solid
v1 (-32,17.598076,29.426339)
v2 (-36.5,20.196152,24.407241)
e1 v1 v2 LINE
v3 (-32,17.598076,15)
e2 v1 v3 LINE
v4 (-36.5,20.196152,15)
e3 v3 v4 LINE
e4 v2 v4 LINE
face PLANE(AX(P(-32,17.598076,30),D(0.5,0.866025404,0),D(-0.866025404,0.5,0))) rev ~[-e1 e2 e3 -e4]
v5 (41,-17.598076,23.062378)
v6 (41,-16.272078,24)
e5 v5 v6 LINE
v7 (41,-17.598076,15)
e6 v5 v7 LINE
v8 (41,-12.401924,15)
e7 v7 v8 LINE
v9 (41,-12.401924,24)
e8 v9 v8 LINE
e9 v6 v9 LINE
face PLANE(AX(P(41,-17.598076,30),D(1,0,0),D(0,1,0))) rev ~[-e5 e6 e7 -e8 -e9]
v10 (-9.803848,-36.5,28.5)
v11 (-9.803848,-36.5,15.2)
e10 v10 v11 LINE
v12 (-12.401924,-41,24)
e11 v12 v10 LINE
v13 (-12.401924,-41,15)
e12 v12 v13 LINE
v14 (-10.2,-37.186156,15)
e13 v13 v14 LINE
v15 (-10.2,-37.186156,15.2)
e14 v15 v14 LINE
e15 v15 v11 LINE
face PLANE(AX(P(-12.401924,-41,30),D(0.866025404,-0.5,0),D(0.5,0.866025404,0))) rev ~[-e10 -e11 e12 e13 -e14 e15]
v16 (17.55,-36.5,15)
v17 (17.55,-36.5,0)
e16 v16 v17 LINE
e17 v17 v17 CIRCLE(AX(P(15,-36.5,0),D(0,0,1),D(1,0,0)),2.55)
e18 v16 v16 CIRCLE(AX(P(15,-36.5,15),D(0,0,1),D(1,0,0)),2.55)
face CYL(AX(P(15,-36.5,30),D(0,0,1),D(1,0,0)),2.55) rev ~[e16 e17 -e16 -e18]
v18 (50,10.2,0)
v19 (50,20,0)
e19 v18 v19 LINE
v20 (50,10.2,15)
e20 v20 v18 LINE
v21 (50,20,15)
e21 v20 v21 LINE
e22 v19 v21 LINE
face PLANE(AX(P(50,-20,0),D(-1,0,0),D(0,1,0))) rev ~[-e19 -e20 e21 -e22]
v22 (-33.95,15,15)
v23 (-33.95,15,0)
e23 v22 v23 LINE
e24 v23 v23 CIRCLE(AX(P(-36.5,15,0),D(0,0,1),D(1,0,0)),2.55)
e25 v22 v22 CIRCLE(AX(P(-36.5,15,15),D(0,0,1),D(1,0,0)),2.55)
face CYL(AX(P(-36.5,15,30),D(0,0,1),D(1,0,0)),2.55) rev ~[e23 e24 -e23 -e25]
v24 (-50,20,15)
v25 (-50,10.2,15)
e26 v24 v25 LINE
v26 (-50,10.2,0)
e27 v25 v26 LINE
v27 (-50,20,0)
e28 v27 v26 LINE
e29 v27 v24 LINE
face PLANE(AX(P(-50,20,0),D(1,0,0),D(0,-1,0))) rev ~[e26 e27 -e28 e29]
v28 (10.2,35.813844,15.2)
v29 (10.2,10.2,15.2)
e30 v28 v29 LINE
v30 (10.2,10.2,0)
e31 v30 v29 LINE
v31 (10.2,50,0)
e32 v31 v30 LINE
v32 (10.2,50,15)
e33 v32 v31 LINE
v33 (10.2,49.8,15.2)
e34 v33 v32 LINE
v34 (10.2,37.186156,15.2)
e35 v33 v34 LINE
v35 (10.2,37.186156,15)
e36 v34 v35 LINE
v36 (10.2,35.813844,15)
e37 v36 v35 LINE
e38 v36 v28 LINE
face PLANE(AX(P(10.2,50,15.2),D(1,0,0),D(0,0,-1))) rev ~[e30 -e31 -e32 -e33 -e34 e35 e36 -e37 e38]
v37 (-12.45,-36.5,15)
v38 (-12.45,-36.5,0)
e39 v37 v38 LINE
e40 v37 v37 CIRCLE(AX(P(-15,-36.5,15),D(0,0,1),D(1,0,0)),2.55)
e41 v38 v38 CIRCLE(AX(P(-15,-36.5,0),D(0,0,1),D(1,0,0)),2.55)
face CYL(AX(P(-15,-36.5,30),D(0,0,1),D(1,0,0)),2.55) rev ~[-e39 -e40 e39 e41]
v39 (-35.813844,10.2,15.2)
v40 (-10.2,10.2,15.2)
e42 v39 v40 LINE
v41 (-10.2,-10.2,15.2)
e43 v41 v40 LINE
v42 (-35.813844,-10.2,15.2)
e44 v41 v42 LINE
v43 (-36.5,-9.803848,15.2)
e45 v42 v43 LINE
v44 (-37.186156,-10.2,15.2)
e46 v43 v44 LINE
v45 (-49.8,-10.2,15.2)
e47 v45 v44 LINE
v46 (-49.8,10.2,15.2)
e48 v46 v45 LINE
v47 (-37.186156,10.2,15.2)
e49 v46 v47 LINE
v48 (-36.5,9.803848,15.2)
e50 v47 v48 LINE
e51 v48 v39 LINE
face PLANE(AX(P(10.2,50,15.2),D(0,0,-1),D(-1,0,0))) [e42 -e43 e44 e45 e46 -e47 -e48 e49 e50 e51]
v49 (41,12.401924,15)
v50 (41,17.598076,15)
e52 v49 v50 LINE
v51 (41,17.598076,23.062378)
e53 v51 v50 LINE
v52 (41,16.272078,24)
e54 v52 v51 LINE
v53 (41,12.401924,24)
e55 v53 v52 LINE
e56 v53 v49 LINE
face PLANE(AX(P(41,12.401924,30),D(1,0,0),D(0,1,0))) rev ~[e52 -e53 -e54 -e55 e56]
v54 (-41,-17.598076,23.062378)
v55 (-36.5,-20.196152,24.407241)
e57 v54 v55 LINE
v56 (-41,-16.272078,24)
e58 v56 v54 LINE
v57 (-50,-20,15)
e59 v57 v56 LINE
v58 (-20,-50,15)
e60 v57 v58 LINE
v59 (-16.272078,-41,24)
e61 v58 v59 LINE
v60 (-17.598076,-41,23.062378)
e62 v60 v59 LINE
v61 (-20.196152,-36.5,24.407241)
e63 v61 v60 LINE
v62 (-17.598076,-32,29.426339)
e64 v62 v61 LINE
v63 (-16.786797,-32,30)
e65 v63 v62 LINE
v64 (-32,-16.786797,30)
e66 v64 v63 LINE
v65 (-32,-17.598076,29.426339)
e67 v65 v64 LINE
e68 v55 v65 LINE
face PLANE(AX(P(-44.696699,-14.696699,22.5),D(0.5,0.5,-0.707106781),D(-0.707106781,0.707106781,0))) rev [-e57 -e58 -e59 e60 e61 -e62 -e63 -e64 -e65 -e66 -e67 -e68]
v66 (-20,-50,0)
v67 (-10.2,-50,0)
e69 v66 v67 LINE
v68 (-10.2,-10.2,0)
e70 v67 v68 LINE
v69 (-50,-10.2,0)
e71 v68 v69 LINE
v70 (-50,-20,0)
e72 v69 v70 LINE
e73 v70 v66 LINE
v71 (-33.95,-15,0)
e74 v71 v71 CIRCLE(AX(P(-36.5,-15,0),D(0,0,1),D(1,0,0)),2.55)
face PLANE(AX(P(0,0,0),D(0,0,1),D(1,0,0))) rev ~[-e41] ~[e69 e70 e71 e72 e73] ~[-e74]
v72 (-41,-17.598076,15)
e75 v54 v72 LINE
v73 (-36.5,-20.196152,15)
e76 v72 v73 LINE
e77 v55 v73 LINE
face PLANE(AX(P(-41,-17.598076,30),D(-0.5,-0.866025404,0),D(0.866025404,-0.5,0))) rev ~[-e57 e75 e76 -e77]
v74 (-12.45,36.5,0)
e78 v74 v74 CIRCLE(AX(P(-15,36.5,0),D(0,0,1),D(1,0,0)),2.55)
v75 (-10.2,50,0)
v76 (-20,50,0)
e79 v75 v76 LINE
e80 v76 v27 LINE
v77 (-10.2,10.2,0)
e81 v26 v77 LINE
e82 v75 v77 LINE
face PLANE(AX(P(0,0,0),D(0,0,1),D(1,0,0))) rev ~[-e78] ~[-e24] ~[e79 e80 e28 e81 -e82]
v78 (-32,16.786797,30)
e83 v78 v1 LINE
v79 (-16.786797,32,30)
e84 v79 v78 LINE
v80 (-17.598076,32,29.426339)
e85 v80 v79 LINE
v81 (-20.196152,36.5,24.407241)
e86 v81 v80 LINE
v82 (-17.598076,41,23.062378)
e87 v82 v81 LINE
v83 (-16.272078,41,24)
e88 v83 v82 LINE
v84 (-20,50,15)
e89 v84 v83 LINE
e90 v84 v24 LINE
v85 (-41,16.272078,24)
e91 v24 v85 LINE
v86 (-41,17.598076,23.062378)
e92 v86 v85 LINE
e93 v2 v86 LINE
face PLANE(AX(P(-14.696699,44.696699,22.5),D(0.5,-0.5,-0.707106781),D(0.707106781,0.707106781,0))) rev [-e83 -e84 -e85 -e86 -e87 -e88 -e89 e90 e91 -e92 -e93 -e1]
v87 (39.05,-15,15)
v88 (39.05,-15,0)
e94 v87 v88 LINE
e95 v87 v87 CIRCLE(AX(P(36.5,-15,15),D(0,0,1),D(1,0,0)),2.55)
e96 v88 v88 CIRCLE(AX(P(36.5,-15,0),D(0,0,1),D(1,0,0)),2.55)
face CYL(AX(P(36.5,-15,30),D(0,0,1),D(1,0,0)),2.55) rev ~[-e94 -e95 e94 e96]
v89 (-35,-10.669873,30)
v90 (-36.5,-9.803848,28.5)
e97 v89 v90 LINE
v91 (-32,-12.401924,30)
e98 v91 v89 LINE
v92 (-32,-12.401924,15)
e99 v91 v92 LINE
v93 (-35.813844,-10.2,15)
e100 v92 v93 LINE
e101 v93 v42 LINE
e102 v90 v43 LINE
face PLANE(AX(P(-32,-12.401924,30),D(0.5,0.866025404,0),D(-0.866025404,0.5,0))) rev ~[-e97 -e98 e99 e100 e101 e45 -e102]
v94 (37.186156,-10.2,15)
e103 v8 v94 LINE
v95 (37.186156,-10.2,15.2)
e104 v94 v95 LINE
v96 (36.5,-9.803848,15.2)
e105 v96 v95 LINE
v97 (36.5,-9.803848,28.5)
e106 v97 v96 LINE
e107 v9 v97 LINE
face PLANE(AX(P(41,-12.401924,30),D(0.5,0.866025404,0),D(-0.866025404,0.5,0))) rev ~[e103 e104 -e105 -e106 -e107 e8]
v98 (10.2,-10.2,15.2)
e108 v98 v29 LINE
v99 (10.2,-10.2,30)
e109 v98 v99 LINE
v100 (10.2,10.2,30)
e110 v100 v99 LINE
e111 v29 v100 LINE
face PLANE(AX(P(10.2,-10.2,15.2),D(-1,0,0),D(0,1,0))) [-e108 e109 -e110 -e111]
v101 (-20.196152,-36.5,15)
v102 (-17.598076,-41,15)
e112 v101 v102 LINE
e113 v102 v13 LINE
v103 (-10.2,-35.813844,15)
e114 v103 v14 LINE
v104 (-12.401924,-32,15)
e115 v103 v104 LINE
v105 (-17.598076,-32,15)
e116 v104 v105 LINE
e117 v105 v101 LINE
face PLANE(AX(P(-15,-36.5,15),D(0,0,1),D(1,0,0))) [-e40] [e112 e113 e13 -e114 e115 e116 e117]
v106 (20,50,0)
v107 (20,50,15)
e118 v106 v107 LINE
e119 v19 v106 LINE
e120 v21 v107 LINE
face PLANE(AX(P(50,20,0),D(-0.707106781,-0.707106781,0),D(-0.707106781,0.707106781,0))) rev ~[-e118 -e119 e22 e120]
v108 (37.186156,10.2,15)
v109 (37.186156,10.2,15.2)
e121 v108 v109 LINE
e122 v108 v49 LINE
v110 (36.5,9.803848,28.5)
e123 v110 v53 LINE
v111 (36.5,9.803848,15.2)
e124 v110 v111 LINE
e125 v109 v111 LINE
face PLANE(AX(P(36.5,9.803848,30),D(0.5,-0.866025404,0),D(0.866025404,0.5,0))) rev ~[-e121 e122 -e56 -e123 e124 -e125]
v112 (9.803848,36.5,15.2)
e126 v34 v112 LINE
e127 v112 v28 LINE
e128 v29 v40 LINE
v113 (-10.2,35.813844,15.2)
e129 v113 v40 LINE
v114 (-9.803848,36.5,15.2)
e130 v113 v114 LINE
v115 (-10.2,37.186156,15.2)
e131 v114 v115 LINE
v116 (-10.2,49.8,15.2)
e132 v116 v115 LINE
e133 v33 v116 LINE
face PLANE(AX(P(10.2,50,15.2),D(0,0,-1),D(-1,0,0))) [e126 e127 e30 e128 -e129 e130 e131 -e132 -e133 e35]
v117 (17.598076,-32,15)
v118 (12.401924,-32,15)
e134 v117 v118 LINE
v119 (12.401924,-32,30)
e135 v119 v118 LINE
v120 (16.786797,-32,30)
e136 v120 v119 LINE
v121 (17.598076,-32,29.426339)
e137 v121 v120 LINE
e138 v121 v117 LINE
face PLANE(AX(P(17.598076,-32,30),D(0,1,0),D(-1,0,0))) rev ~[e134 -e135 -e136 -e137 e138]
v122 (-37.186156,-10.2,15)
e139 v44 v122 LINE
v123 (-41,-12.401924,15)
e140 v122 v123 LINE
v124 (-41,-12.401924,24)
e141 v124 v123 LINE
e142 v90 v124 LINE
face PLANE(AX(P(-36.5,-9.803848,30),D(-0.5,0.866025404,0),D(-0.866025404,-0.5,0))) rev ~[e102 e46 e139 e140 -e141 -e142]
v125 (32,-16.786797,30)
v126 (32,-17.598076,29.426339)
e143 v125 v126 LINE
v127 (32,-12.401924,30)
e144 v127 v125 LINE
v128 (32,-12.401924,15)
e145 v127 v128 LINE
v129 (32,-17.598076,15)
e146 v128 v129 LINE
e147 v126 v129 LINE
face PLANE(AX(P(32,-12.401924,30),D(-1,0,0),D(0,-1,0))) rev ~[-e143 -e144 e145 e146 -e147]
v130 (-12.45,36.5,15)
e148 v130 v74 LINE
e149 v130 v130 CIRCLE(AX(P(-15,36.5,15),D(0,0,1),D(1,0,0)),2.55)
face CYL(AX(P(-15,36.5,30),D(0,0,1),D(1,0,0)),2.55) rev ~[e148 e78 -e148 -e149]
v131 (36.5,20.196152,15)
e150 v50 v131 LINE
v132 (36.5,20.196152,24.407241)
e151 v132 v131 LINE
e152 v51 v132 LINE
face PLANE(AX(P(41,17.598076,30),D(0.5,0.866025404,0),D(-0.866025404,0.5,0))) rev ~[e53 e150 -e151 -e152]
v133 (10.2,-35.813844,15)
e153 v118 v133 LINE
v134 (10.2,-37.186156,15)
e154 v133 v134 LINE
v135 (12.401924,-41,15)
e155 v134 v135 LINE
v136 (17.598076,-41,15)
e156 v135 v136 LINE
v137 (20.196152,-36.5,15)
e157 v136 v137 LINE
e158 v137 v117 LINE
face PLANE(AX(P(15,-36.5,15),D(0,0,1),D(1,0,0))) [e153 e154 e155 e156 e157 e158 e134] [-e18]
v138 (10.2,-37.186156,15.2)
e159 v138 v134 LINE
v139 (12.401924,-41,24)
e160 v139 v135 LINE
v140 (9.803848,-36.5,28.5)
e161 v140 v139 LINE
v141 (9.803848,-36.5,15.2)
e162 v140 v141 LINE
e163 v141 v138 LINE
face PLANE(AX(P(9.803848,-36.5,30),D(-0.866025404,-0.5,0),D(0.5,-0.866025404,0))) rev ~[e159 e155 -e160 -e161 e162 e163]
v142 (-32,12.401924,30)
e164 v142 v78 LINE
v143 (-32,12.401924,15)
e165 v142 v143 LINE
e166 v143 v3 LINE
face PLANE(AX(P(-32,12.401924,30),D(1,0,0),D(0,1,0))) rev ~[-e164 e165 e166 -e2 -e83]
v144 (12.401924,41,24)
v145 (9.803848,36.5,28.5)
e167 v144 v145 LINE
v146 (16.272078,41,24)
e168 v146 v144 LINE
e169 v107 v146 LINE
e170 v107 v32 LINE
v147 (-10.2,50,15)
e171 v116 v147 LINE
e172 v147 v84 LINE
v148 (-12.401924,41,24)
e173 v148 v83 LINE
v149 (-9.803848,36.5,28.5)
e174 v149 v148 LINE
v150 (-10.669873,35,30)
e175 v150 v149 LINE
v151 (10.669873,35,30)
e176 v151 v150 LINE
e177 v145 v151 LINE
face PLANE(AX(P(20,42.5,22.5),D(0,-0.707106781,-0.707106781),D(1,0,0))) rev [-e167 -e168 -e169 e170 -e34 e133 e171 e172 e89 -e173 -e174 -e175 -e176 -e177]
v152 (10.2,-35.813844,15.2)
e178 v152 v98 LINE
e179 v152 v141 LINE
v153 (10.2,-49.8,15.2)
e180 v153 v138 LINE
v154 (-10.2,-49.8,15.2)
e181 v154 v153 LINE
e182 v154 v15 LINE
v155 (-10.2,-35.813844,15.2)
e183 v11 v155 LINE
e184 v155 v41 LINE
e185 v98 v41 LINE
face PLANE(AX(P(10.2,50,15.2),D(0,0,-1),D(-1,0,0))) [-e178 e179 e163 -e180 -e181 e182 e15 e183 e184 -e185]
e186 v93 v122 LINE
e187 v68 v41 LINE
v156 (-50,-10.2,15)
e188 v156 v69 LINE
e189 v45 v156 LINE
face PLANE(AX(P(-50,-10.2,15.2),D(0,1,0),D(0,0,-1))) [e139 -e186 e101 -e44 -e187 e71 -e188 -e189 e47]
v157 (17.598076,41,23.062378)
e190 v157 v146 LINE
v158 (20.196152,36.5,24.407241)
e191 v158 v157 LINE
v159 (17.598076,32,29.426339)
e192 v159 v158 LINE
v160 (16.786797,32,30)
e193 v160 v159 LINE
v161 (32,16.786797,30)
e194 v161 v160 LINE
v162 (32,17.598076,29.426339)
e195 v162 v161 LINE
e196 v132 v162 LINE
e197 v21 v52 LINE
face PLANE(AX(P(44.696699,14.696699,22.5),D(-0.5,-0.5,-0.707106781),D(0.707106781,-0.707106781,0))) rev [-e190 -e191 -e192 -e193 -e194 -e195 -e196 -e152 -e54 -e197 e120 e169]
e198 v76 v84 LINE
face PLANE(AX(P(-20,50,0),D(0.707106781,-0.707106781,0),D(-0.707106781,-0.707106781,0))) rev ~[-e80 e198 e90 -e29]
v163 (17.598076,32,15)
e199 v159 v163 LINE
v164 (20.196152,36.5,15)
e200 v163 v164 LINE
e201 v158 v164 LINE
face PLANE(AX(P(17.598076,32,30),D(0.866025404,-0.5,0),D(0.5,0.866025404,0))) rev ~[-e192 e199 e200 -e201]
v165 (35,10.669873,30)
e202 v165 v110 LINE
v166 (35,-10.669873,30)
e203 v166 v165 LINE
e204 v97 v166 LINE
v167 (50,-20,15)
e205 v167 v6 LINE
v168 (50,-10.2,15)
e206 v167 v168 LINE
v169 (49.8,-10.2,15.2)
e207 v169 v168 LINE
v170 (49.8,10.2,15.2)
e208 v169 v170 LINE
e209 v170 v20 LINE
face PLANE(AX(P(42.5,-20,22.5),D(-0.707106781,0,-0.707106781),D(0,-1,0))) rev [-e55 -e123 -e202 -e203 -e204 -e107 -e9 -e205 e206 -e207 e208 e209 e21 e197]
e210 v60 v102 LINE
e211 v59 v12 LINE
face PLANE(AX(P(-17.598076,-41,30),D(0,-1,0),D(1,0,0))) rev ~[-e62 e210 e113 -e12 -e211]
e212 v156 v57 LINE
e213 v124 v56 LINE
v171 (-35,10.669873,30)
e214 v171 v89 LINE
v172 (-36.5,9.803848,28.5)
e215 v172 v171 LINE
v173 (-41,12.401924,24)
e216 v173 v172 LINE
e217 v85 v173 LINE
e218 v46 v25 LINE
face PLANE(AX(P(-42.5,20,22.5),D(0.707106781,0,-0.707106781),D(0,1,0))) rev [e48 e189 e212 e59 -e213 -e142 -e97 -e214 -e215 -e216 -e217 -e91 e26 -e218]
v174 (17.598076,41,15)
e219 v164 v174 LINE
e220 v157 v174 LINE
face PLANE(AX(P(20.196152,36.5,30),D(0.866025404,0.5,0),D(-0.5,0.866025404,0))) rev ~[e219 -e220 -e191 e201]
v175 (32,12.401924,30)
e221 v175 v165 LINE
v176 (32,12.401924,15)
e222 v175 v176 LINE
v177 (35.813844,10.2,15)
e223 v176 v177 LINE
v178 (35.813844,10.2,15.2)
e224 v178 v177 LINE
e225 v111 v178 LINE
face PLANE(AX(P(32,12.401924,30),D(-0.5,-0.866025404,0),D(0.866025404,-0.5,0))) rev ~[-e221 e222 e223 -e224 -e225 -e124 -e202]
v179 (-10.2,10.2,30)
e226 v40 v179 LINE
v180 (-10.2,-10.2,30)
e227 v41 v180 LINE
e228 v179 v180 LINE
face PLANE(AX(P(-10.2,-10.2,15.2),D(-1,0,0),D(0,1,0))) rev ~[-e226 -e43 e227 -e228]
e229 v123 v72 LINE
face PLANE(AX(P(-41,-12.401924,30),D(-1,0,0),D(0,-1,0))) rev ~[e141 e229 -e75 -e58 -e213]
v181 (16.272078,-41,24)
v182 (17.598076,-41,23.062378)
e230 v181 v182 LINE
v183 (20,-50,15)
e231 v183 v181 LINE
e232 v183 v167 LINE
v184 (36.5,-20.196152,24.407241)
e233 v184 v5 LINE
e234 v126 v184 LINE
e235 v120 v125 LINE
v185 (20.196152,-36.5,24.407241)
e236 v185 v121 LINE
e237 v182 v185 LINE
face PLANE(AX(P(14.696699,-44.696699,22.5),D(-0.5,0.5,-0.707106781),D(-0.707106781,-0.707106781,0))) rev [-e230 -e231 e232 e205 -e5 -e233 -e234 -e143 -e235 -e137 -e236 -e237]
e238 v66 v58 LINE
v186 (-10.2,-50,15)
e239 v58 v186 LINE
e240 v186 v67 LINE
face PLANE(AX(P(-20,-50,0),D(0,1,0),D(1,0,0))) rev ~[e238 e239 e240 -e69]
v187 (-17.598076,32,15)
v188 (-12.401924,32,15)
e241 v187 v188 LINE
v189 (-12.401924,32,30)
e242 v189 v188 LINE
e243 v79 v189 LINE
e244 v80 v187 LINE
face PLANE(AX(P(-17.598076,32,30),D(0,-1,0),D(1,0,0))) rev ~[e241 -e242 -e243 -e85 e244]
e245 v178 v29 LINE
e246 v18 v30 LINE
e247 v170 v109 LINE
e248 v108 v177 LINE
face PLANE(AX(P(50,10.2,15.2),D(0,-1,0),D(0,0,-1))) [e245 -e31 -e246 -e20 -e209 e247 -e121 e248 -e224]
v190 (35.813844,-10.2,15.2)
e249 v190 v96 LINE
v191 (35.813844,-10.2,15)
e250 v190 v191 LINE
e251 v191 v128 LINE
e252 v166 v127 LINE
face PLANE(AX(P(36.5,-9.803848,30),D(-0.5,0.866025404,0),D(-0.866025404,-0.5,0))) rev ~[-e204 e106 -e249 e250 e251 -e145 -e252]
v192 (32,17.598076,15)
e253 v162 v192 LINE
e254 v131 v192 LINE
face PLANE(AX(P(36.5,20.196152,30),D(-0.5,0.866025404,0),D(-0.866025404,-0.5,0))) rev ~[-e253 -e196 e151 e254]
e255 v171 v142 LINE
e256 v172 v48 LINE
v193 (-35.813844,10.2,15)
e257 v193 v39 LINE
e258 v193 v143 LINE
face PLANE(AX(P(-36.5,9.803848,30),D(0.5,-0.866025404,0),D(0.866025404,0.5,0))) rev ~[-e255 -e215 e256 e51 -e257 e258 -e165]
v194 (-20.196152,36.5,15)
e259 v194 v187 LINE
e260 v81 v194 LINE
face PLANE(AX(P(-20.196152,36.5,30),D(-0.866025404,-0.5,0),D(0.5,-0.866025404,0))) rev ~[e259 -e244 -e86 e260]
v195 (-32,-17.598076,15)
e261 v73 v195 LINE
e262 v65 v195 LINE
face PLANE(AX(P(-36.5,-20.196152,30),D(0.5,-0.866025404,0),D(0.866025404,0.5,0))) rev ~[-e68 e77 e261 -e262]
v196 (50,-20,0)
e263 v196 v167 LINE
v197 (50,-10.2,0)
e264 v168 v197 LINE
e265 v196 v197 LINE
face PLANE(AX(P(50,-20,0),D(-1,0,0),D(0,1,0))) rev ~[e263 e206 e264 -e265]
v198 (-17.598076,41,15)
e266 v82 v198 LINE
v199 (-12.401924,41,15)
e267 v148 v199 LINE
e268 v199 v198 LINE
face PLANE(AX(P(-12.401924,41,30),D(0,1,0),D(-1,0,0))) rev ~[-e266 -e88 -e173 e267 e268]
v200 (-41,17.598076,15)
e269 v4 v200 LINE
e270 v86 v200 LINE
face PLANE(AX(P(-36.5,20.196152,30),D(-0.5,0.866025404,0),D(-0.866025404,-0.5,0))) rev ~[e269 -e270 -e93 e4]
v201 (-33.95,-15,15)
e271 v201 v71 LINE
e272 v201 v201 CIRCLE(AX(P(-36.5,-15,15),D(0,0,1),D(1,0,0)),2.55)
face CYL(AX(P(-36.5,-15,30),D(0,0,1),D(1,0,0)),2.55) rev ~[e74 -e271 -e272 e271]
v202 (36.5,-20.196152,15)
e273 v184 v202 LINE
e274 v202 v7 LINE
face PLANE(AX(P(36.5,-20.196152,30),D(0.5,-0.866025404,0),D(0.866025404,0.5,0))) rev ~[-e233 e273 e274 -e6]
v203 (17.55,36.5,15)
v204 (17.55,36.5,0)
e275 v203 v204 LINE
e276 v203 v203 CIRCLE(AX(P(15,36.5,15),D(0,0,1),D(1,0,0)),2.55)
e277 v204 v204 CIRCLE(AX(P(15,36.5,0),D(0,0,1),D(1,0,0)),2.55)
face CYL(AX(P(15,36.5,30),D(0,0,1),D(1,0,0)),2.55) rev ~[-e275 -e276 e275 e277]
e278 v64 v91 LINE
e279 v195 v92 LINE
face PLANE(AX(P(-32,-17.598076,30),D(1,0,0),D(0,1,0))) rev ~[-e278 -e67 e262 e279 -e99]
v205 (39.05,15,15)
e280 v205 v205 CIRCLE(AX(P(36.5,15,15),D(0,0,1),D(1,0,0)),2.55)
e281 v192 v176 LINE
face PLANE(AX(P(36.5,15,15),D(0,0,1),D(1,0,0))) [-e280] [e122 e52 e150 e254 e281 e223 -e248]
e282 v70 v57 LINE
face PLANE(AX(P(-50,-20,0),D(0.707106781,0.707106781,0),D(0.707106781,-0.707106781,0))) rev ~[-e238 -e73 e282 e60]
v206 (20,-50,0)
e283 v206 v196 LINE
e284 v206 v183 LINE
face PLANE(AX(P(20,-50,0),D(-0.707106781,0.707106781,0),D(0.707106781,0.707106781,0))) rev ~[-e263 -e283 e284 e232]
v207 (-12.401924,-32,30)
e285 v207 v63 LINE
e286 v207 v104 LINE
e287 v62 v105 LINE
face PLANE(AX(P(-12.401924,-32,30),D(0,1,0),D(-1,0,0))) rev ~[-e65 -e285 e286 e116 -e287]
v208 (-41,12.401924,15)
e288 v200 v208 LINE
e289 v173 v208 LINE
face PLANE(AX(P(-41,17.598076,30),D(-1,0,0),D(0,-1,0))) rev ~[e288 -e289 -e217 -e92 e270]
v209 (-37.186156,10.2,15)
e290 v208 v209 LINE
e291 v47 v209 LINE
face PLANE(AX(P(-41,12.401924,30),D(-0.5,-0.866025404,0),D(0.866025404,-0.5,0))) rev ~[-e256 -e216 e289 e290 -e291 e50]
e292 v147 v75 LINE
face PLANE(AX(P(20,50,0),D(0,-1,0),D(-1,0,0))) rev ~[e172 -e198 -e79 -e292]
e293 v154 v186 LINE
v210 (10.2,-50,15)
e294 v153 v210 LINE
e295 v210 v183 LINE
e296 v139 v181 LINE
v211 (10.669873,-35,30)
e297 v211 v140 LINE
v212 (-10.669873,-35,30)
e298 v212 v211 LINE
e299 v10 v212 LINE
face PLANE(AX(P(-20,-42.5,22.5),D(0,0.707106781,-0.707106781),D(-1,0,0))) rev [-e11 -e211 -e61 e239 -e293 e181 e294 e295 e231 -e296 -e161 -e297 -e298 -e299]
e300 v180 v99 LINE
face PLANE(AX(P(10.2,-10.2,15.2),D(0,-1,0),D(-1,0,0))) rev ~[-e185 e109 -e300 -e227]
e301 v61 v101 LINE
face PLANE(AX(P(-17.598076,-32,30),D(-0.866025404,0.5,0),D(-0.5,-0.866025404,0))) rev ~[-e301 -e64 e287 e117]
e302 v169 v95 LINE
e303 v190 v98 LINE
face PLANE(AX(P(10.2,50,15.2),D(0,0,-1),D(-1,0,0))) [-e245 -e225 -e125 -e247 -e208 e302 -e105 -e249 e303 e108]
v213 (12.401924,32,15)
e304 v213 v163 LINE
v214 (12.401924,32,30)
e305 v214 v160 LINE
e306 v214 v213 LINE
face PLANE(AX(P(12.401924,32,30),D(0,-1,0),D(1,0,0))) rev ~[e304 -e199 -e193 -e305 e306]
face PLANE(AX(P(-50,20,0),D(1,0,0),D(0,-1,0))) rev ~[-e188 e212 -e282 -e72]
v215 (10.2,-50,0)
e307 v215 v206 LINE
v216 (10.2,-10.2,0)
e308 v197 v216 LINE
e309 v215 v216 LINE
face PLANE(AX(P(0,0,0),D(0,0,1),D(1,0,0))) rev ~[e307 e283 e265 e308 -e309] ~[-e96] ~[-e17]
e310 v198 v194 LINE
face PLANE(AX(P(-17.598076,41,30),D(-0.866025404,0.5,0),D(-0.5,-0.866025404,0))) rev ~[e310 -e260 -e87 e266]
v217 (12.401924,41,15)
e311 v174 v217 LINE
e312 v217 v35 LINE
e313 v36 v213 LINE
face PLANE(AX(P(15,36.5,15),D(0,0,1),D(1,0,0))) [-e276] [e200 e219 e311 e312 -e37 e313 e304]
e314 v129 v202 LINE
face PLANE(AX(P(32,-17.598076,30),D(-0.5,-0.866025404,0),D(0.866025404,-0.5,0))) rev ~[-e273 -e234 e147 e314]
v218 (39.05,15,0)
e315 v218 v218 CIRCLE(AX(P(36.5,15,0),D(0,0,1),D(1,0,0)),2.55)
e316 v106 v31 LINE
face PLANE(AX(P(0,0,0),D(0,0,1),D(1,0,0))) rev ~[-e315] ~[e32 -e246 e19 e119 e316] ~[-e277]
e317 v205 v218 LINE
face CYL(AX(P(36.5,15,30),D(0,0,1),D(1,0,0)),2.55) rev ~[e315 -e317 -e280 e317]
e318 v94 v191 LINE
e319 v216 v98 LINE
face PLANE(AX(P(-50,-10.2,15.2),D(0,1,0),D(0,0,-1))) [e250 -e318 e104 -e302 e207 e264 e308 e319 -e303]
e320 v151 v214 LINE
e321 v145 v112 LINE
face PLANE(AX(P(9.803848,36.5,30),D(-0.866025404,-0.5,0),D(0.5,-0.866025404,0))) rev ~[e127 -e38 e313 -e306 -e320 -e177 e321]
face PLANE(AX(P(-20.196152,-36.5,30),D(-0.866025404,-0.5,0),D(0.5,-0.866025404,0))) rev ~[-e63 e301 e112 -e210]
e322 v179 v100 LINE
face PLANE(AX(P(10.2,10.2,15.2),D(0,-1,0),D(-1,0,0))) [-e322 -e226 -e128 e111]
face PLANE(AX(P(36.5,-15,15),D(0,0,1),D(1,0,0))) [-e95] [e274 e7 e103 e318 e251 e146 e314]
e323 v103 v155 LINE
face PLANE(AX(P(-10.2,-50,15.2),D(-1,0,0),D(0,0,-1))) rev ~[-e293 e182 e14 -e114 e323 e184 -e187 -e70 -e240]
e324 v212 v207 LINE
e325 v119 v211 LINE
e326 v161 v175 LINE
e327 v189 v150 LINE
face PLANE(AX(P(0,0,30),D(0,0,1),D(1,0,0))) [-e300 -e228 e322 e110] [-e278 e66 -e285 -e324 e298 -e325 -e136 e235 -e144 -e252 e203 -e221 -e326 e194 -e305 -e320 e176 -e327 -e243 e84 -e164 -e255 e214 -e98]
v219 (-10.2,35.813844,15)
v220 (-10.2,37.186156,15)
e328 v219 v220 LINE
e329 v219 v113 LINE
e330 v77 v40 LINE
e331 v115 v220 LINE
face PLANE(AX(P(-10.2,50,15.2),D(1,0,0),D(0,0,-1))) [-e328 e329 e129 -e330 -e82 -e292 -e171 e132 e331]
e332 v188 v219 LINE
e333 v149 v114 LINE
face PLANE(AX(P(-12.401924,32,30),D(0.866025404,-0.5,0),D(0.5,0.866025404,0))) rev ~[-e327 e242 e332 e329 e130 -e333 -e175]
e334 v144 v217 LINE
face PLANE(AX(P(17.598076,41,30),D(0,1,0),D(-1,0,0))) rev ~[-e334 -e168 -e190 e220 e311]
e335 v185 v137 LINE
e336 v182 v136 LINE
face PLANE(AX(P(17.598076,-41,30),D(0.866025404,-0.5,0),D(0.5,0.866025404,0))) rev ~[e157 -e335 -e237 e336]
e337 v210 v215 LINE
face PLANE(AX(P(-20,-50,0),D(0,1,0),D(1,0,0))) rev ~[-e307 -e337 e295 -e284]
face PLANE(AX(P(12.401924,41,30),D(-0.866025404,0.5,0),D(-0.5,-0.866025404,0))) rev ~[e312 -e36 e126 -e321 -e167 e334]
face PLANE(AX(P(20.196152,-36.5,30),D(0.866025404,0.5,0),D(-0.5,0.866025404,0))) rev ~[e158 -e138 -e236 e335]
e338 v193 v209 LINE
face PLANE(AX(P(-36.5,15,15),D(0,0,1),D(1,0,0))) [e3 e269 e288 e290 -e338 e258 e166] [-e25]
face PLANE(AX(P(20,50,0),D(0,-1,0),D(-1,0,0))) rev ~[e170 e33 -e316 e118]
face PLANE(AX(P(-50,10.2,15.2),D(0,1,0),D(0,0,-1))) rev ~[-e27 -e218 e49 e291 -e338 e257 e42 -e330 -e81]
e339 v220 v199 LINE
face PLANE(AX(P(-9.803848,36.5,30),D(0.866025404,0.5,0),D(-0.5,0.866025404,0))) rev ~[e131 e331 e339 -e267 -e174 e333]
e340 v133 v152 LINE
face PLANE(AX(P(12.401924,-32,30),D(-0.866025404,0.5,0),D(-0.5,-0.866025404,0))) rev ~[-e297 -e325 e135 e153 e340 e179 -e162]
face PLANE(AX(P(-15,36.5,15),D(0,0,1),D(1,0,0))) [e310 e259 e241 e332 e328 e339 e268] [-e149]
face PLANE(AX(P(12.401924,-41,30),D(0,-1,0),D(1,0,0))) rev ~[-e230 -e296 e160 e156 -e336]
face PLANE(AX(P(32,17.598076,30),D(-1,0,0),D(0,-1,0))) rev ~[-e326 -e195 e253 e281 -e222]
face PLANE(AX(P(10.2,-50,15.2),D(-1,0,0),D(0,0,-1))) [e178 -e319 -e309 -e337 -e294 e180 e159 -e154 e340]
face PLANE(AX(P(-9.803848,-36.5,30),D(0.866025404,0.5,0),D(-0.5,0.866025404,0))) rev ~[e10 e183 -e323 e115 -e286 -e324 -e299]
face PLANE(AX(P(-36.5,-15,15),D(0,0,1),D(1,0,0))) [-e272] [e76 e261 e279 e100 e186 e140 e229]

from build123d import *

# Parameters (mm, degrees)
EXTRUDE_1_DEPTH          = 30
CHAMFER_1_SIZE           = 15
SKETCH_2_W               = 15.2
SKETCH_2_H               = 20.4
CUT_EXTRUDE_1_DEPTH      = 50
SKETCH_3_R               = 2.55
CUT_EXTRUDE_2_DEPTH      = 77.811457479
CUT_EXTRUDE_3_DEPTH      = 15
PATTERN_CIRCULAR_1_COUNT = 4
SKETCH_6_W               = 20.4
SKETCH_6_H               = 20.4
CUT_EXTRUDE_4_DEPTH      = 73.325928961


with BuildPart() as part:
    # 스케치1 → 보스-돌출1 (new body)
    with BuildSketch(Plane.XY):
        Polygon((-20, 50), (-50, 20), (-50, -20), (-20, -50), (20, -50), (50, -20), (50, 20), (20, 50), align=None)
    extrude(amount=EXTRUDE_1_DEPTH)

    # 모따기1
    chamfer_1_edges = [part.edges().sort_by_distance(p)[0] for p in [
        (-50, 0, 30),
        (-35, -35, 30),
        (0, -50, 30),
        (35, -35, 30),
        (50, 0, 30),
        (35, 35, 30),
        (0, 50, 30),
        (-35, 35, 30),
    ]]
    chamfer(chamfer_1_edges, length=CHAMFER_1_SIZE)

    # 스케치2 → 컷-돌출1 (cut)
    with BuildSketch(Plane(origin=(50, 0, 0), x_dir=(0, 0, -1), z_dir=(1, 0, 0))):
        with Locations((-7.6, 0)):
            Rectangle(SKETCH_2_W, SKETCH_2_H)
    cut_extrude_1 = extrude(amount=-CUT_EXTRUDE_1_DEPTH, mode=Mode.SUBTRACT)

    # 스케치3 → 컷-돌출2 (cut, through all)
    with BuildSketch(Plane.XY.offset(30)):
        with Locations((36.5, -15)):
            Circle(SKETCH_3_R)
        with Locations((36.5, 15)):
            Circle(SKETCH_3_R)
        with Locations((-15, -36.5)):
            Circle(SKETCH_3_R)
        with Locations((15, -36.5)):
            Circle(SKETCH_3_R)
        with Locations((-36.5, 15)):
            Circle(SKETCH_3_R)
        with Locations((-36.5, -15)):
            Circle(SKETCH_3_R)
        with Locations((15, 36.5)):
            Circle(SKETCH_3_R)
        with Locations((-15, 36.5)):
            Circle(SKETCH_3_R)
    extrude(amount=-CUT_EXTRUDE_2_DEPTH, mode=Mode.SUBTRACT)

    # 스케치4 → 컷-돌출3 (cut)
    with BuildSketch(Plane.XY.offset(30)):
        Polygon((-12.401923789, -32), (-17.598076211, -32), (-20.196152423, -36.5), (-17.598076211, -41), (-12.401923789, -41), (-9.803847577, -36.5), align=None)
        Polygon((32, -12.401923789), (32, -17.598076211), (36.5, -20.196152423), (41, -17.598076211), (41, -12.401923789), (36.5, -9.803847577), align=None)
        Polygon((36.5, 9.803847577), (41, 12.401923789), (41, 17.598076211), (36.5, 20.196152423), (32, 17.598076211), (32, 12.401923789), align=None)
        Polygon((9.803847577, -36.5), (12.401923789, -41), (17.598076211, -41), (20.196152423, -36.5), (17.598076211, -32), (12.401923789, -32), align=None)
        Polygon((-32, 12.401923789), (-32, 17.598076211), (-36.5, 20.196152423), (-41, 17.598076211), (-41, 12.401923789), (-36.5, 9.803847577), align=None)
        Polygon((-36.5, -9.803847577), (-41, -12.401923789), (-41, -17.598076211), (-36.5, -20.196152423), (-32, -17.598076211), (-32, -12.401923789), align=None)
        Polygon((12.401923789, 32), (17.598076211, 32), (20.196152423, 36.5), (17.598076211, 41), (12.401923789, 41), (9.803847577, 36.5), align=None)
        Polygon((-9.803847577, 36.5), (-12.401923789, 41), (-17.598076211, 41), (-20.196152423, 36.5), (-17.598076211, 32), (-12.401923789, 32), align=None)
    extrude(amount=-CUT_EXTRUDE_3_DEPTH, mode=Mode.SUBTRACT)

    # 원형 패턴1: 컷-돌출1 ×4 about axis
    pattern_circular_1_axis = Axis((0, 0, 0), (0, 0, 1))
    for i in range(1, PATTERN_CIRCULAR_1_COUNT):
        add(cut_extrude_1.rotate(pattern_circular_1_axis, i * 360 / PATTERN_CIRCULAR_1_COUNT), mode=Mode.SUBTRACT)

    # 스케치6 → 컷-돌출4 (cut, through all)
    with BuildSketch(Plane(origin=(0, 0, 15.2), x_dir=(-1, 0, 0), z_dir=(0, 0, -1))):
        Rectangle(SKETCH_6_W, SKETCH_6_H)
    extrude(amount=-CUT_EXTRUDE_4_DEPTH, mode=Mode.SUBTRACT)


solid = part.part
